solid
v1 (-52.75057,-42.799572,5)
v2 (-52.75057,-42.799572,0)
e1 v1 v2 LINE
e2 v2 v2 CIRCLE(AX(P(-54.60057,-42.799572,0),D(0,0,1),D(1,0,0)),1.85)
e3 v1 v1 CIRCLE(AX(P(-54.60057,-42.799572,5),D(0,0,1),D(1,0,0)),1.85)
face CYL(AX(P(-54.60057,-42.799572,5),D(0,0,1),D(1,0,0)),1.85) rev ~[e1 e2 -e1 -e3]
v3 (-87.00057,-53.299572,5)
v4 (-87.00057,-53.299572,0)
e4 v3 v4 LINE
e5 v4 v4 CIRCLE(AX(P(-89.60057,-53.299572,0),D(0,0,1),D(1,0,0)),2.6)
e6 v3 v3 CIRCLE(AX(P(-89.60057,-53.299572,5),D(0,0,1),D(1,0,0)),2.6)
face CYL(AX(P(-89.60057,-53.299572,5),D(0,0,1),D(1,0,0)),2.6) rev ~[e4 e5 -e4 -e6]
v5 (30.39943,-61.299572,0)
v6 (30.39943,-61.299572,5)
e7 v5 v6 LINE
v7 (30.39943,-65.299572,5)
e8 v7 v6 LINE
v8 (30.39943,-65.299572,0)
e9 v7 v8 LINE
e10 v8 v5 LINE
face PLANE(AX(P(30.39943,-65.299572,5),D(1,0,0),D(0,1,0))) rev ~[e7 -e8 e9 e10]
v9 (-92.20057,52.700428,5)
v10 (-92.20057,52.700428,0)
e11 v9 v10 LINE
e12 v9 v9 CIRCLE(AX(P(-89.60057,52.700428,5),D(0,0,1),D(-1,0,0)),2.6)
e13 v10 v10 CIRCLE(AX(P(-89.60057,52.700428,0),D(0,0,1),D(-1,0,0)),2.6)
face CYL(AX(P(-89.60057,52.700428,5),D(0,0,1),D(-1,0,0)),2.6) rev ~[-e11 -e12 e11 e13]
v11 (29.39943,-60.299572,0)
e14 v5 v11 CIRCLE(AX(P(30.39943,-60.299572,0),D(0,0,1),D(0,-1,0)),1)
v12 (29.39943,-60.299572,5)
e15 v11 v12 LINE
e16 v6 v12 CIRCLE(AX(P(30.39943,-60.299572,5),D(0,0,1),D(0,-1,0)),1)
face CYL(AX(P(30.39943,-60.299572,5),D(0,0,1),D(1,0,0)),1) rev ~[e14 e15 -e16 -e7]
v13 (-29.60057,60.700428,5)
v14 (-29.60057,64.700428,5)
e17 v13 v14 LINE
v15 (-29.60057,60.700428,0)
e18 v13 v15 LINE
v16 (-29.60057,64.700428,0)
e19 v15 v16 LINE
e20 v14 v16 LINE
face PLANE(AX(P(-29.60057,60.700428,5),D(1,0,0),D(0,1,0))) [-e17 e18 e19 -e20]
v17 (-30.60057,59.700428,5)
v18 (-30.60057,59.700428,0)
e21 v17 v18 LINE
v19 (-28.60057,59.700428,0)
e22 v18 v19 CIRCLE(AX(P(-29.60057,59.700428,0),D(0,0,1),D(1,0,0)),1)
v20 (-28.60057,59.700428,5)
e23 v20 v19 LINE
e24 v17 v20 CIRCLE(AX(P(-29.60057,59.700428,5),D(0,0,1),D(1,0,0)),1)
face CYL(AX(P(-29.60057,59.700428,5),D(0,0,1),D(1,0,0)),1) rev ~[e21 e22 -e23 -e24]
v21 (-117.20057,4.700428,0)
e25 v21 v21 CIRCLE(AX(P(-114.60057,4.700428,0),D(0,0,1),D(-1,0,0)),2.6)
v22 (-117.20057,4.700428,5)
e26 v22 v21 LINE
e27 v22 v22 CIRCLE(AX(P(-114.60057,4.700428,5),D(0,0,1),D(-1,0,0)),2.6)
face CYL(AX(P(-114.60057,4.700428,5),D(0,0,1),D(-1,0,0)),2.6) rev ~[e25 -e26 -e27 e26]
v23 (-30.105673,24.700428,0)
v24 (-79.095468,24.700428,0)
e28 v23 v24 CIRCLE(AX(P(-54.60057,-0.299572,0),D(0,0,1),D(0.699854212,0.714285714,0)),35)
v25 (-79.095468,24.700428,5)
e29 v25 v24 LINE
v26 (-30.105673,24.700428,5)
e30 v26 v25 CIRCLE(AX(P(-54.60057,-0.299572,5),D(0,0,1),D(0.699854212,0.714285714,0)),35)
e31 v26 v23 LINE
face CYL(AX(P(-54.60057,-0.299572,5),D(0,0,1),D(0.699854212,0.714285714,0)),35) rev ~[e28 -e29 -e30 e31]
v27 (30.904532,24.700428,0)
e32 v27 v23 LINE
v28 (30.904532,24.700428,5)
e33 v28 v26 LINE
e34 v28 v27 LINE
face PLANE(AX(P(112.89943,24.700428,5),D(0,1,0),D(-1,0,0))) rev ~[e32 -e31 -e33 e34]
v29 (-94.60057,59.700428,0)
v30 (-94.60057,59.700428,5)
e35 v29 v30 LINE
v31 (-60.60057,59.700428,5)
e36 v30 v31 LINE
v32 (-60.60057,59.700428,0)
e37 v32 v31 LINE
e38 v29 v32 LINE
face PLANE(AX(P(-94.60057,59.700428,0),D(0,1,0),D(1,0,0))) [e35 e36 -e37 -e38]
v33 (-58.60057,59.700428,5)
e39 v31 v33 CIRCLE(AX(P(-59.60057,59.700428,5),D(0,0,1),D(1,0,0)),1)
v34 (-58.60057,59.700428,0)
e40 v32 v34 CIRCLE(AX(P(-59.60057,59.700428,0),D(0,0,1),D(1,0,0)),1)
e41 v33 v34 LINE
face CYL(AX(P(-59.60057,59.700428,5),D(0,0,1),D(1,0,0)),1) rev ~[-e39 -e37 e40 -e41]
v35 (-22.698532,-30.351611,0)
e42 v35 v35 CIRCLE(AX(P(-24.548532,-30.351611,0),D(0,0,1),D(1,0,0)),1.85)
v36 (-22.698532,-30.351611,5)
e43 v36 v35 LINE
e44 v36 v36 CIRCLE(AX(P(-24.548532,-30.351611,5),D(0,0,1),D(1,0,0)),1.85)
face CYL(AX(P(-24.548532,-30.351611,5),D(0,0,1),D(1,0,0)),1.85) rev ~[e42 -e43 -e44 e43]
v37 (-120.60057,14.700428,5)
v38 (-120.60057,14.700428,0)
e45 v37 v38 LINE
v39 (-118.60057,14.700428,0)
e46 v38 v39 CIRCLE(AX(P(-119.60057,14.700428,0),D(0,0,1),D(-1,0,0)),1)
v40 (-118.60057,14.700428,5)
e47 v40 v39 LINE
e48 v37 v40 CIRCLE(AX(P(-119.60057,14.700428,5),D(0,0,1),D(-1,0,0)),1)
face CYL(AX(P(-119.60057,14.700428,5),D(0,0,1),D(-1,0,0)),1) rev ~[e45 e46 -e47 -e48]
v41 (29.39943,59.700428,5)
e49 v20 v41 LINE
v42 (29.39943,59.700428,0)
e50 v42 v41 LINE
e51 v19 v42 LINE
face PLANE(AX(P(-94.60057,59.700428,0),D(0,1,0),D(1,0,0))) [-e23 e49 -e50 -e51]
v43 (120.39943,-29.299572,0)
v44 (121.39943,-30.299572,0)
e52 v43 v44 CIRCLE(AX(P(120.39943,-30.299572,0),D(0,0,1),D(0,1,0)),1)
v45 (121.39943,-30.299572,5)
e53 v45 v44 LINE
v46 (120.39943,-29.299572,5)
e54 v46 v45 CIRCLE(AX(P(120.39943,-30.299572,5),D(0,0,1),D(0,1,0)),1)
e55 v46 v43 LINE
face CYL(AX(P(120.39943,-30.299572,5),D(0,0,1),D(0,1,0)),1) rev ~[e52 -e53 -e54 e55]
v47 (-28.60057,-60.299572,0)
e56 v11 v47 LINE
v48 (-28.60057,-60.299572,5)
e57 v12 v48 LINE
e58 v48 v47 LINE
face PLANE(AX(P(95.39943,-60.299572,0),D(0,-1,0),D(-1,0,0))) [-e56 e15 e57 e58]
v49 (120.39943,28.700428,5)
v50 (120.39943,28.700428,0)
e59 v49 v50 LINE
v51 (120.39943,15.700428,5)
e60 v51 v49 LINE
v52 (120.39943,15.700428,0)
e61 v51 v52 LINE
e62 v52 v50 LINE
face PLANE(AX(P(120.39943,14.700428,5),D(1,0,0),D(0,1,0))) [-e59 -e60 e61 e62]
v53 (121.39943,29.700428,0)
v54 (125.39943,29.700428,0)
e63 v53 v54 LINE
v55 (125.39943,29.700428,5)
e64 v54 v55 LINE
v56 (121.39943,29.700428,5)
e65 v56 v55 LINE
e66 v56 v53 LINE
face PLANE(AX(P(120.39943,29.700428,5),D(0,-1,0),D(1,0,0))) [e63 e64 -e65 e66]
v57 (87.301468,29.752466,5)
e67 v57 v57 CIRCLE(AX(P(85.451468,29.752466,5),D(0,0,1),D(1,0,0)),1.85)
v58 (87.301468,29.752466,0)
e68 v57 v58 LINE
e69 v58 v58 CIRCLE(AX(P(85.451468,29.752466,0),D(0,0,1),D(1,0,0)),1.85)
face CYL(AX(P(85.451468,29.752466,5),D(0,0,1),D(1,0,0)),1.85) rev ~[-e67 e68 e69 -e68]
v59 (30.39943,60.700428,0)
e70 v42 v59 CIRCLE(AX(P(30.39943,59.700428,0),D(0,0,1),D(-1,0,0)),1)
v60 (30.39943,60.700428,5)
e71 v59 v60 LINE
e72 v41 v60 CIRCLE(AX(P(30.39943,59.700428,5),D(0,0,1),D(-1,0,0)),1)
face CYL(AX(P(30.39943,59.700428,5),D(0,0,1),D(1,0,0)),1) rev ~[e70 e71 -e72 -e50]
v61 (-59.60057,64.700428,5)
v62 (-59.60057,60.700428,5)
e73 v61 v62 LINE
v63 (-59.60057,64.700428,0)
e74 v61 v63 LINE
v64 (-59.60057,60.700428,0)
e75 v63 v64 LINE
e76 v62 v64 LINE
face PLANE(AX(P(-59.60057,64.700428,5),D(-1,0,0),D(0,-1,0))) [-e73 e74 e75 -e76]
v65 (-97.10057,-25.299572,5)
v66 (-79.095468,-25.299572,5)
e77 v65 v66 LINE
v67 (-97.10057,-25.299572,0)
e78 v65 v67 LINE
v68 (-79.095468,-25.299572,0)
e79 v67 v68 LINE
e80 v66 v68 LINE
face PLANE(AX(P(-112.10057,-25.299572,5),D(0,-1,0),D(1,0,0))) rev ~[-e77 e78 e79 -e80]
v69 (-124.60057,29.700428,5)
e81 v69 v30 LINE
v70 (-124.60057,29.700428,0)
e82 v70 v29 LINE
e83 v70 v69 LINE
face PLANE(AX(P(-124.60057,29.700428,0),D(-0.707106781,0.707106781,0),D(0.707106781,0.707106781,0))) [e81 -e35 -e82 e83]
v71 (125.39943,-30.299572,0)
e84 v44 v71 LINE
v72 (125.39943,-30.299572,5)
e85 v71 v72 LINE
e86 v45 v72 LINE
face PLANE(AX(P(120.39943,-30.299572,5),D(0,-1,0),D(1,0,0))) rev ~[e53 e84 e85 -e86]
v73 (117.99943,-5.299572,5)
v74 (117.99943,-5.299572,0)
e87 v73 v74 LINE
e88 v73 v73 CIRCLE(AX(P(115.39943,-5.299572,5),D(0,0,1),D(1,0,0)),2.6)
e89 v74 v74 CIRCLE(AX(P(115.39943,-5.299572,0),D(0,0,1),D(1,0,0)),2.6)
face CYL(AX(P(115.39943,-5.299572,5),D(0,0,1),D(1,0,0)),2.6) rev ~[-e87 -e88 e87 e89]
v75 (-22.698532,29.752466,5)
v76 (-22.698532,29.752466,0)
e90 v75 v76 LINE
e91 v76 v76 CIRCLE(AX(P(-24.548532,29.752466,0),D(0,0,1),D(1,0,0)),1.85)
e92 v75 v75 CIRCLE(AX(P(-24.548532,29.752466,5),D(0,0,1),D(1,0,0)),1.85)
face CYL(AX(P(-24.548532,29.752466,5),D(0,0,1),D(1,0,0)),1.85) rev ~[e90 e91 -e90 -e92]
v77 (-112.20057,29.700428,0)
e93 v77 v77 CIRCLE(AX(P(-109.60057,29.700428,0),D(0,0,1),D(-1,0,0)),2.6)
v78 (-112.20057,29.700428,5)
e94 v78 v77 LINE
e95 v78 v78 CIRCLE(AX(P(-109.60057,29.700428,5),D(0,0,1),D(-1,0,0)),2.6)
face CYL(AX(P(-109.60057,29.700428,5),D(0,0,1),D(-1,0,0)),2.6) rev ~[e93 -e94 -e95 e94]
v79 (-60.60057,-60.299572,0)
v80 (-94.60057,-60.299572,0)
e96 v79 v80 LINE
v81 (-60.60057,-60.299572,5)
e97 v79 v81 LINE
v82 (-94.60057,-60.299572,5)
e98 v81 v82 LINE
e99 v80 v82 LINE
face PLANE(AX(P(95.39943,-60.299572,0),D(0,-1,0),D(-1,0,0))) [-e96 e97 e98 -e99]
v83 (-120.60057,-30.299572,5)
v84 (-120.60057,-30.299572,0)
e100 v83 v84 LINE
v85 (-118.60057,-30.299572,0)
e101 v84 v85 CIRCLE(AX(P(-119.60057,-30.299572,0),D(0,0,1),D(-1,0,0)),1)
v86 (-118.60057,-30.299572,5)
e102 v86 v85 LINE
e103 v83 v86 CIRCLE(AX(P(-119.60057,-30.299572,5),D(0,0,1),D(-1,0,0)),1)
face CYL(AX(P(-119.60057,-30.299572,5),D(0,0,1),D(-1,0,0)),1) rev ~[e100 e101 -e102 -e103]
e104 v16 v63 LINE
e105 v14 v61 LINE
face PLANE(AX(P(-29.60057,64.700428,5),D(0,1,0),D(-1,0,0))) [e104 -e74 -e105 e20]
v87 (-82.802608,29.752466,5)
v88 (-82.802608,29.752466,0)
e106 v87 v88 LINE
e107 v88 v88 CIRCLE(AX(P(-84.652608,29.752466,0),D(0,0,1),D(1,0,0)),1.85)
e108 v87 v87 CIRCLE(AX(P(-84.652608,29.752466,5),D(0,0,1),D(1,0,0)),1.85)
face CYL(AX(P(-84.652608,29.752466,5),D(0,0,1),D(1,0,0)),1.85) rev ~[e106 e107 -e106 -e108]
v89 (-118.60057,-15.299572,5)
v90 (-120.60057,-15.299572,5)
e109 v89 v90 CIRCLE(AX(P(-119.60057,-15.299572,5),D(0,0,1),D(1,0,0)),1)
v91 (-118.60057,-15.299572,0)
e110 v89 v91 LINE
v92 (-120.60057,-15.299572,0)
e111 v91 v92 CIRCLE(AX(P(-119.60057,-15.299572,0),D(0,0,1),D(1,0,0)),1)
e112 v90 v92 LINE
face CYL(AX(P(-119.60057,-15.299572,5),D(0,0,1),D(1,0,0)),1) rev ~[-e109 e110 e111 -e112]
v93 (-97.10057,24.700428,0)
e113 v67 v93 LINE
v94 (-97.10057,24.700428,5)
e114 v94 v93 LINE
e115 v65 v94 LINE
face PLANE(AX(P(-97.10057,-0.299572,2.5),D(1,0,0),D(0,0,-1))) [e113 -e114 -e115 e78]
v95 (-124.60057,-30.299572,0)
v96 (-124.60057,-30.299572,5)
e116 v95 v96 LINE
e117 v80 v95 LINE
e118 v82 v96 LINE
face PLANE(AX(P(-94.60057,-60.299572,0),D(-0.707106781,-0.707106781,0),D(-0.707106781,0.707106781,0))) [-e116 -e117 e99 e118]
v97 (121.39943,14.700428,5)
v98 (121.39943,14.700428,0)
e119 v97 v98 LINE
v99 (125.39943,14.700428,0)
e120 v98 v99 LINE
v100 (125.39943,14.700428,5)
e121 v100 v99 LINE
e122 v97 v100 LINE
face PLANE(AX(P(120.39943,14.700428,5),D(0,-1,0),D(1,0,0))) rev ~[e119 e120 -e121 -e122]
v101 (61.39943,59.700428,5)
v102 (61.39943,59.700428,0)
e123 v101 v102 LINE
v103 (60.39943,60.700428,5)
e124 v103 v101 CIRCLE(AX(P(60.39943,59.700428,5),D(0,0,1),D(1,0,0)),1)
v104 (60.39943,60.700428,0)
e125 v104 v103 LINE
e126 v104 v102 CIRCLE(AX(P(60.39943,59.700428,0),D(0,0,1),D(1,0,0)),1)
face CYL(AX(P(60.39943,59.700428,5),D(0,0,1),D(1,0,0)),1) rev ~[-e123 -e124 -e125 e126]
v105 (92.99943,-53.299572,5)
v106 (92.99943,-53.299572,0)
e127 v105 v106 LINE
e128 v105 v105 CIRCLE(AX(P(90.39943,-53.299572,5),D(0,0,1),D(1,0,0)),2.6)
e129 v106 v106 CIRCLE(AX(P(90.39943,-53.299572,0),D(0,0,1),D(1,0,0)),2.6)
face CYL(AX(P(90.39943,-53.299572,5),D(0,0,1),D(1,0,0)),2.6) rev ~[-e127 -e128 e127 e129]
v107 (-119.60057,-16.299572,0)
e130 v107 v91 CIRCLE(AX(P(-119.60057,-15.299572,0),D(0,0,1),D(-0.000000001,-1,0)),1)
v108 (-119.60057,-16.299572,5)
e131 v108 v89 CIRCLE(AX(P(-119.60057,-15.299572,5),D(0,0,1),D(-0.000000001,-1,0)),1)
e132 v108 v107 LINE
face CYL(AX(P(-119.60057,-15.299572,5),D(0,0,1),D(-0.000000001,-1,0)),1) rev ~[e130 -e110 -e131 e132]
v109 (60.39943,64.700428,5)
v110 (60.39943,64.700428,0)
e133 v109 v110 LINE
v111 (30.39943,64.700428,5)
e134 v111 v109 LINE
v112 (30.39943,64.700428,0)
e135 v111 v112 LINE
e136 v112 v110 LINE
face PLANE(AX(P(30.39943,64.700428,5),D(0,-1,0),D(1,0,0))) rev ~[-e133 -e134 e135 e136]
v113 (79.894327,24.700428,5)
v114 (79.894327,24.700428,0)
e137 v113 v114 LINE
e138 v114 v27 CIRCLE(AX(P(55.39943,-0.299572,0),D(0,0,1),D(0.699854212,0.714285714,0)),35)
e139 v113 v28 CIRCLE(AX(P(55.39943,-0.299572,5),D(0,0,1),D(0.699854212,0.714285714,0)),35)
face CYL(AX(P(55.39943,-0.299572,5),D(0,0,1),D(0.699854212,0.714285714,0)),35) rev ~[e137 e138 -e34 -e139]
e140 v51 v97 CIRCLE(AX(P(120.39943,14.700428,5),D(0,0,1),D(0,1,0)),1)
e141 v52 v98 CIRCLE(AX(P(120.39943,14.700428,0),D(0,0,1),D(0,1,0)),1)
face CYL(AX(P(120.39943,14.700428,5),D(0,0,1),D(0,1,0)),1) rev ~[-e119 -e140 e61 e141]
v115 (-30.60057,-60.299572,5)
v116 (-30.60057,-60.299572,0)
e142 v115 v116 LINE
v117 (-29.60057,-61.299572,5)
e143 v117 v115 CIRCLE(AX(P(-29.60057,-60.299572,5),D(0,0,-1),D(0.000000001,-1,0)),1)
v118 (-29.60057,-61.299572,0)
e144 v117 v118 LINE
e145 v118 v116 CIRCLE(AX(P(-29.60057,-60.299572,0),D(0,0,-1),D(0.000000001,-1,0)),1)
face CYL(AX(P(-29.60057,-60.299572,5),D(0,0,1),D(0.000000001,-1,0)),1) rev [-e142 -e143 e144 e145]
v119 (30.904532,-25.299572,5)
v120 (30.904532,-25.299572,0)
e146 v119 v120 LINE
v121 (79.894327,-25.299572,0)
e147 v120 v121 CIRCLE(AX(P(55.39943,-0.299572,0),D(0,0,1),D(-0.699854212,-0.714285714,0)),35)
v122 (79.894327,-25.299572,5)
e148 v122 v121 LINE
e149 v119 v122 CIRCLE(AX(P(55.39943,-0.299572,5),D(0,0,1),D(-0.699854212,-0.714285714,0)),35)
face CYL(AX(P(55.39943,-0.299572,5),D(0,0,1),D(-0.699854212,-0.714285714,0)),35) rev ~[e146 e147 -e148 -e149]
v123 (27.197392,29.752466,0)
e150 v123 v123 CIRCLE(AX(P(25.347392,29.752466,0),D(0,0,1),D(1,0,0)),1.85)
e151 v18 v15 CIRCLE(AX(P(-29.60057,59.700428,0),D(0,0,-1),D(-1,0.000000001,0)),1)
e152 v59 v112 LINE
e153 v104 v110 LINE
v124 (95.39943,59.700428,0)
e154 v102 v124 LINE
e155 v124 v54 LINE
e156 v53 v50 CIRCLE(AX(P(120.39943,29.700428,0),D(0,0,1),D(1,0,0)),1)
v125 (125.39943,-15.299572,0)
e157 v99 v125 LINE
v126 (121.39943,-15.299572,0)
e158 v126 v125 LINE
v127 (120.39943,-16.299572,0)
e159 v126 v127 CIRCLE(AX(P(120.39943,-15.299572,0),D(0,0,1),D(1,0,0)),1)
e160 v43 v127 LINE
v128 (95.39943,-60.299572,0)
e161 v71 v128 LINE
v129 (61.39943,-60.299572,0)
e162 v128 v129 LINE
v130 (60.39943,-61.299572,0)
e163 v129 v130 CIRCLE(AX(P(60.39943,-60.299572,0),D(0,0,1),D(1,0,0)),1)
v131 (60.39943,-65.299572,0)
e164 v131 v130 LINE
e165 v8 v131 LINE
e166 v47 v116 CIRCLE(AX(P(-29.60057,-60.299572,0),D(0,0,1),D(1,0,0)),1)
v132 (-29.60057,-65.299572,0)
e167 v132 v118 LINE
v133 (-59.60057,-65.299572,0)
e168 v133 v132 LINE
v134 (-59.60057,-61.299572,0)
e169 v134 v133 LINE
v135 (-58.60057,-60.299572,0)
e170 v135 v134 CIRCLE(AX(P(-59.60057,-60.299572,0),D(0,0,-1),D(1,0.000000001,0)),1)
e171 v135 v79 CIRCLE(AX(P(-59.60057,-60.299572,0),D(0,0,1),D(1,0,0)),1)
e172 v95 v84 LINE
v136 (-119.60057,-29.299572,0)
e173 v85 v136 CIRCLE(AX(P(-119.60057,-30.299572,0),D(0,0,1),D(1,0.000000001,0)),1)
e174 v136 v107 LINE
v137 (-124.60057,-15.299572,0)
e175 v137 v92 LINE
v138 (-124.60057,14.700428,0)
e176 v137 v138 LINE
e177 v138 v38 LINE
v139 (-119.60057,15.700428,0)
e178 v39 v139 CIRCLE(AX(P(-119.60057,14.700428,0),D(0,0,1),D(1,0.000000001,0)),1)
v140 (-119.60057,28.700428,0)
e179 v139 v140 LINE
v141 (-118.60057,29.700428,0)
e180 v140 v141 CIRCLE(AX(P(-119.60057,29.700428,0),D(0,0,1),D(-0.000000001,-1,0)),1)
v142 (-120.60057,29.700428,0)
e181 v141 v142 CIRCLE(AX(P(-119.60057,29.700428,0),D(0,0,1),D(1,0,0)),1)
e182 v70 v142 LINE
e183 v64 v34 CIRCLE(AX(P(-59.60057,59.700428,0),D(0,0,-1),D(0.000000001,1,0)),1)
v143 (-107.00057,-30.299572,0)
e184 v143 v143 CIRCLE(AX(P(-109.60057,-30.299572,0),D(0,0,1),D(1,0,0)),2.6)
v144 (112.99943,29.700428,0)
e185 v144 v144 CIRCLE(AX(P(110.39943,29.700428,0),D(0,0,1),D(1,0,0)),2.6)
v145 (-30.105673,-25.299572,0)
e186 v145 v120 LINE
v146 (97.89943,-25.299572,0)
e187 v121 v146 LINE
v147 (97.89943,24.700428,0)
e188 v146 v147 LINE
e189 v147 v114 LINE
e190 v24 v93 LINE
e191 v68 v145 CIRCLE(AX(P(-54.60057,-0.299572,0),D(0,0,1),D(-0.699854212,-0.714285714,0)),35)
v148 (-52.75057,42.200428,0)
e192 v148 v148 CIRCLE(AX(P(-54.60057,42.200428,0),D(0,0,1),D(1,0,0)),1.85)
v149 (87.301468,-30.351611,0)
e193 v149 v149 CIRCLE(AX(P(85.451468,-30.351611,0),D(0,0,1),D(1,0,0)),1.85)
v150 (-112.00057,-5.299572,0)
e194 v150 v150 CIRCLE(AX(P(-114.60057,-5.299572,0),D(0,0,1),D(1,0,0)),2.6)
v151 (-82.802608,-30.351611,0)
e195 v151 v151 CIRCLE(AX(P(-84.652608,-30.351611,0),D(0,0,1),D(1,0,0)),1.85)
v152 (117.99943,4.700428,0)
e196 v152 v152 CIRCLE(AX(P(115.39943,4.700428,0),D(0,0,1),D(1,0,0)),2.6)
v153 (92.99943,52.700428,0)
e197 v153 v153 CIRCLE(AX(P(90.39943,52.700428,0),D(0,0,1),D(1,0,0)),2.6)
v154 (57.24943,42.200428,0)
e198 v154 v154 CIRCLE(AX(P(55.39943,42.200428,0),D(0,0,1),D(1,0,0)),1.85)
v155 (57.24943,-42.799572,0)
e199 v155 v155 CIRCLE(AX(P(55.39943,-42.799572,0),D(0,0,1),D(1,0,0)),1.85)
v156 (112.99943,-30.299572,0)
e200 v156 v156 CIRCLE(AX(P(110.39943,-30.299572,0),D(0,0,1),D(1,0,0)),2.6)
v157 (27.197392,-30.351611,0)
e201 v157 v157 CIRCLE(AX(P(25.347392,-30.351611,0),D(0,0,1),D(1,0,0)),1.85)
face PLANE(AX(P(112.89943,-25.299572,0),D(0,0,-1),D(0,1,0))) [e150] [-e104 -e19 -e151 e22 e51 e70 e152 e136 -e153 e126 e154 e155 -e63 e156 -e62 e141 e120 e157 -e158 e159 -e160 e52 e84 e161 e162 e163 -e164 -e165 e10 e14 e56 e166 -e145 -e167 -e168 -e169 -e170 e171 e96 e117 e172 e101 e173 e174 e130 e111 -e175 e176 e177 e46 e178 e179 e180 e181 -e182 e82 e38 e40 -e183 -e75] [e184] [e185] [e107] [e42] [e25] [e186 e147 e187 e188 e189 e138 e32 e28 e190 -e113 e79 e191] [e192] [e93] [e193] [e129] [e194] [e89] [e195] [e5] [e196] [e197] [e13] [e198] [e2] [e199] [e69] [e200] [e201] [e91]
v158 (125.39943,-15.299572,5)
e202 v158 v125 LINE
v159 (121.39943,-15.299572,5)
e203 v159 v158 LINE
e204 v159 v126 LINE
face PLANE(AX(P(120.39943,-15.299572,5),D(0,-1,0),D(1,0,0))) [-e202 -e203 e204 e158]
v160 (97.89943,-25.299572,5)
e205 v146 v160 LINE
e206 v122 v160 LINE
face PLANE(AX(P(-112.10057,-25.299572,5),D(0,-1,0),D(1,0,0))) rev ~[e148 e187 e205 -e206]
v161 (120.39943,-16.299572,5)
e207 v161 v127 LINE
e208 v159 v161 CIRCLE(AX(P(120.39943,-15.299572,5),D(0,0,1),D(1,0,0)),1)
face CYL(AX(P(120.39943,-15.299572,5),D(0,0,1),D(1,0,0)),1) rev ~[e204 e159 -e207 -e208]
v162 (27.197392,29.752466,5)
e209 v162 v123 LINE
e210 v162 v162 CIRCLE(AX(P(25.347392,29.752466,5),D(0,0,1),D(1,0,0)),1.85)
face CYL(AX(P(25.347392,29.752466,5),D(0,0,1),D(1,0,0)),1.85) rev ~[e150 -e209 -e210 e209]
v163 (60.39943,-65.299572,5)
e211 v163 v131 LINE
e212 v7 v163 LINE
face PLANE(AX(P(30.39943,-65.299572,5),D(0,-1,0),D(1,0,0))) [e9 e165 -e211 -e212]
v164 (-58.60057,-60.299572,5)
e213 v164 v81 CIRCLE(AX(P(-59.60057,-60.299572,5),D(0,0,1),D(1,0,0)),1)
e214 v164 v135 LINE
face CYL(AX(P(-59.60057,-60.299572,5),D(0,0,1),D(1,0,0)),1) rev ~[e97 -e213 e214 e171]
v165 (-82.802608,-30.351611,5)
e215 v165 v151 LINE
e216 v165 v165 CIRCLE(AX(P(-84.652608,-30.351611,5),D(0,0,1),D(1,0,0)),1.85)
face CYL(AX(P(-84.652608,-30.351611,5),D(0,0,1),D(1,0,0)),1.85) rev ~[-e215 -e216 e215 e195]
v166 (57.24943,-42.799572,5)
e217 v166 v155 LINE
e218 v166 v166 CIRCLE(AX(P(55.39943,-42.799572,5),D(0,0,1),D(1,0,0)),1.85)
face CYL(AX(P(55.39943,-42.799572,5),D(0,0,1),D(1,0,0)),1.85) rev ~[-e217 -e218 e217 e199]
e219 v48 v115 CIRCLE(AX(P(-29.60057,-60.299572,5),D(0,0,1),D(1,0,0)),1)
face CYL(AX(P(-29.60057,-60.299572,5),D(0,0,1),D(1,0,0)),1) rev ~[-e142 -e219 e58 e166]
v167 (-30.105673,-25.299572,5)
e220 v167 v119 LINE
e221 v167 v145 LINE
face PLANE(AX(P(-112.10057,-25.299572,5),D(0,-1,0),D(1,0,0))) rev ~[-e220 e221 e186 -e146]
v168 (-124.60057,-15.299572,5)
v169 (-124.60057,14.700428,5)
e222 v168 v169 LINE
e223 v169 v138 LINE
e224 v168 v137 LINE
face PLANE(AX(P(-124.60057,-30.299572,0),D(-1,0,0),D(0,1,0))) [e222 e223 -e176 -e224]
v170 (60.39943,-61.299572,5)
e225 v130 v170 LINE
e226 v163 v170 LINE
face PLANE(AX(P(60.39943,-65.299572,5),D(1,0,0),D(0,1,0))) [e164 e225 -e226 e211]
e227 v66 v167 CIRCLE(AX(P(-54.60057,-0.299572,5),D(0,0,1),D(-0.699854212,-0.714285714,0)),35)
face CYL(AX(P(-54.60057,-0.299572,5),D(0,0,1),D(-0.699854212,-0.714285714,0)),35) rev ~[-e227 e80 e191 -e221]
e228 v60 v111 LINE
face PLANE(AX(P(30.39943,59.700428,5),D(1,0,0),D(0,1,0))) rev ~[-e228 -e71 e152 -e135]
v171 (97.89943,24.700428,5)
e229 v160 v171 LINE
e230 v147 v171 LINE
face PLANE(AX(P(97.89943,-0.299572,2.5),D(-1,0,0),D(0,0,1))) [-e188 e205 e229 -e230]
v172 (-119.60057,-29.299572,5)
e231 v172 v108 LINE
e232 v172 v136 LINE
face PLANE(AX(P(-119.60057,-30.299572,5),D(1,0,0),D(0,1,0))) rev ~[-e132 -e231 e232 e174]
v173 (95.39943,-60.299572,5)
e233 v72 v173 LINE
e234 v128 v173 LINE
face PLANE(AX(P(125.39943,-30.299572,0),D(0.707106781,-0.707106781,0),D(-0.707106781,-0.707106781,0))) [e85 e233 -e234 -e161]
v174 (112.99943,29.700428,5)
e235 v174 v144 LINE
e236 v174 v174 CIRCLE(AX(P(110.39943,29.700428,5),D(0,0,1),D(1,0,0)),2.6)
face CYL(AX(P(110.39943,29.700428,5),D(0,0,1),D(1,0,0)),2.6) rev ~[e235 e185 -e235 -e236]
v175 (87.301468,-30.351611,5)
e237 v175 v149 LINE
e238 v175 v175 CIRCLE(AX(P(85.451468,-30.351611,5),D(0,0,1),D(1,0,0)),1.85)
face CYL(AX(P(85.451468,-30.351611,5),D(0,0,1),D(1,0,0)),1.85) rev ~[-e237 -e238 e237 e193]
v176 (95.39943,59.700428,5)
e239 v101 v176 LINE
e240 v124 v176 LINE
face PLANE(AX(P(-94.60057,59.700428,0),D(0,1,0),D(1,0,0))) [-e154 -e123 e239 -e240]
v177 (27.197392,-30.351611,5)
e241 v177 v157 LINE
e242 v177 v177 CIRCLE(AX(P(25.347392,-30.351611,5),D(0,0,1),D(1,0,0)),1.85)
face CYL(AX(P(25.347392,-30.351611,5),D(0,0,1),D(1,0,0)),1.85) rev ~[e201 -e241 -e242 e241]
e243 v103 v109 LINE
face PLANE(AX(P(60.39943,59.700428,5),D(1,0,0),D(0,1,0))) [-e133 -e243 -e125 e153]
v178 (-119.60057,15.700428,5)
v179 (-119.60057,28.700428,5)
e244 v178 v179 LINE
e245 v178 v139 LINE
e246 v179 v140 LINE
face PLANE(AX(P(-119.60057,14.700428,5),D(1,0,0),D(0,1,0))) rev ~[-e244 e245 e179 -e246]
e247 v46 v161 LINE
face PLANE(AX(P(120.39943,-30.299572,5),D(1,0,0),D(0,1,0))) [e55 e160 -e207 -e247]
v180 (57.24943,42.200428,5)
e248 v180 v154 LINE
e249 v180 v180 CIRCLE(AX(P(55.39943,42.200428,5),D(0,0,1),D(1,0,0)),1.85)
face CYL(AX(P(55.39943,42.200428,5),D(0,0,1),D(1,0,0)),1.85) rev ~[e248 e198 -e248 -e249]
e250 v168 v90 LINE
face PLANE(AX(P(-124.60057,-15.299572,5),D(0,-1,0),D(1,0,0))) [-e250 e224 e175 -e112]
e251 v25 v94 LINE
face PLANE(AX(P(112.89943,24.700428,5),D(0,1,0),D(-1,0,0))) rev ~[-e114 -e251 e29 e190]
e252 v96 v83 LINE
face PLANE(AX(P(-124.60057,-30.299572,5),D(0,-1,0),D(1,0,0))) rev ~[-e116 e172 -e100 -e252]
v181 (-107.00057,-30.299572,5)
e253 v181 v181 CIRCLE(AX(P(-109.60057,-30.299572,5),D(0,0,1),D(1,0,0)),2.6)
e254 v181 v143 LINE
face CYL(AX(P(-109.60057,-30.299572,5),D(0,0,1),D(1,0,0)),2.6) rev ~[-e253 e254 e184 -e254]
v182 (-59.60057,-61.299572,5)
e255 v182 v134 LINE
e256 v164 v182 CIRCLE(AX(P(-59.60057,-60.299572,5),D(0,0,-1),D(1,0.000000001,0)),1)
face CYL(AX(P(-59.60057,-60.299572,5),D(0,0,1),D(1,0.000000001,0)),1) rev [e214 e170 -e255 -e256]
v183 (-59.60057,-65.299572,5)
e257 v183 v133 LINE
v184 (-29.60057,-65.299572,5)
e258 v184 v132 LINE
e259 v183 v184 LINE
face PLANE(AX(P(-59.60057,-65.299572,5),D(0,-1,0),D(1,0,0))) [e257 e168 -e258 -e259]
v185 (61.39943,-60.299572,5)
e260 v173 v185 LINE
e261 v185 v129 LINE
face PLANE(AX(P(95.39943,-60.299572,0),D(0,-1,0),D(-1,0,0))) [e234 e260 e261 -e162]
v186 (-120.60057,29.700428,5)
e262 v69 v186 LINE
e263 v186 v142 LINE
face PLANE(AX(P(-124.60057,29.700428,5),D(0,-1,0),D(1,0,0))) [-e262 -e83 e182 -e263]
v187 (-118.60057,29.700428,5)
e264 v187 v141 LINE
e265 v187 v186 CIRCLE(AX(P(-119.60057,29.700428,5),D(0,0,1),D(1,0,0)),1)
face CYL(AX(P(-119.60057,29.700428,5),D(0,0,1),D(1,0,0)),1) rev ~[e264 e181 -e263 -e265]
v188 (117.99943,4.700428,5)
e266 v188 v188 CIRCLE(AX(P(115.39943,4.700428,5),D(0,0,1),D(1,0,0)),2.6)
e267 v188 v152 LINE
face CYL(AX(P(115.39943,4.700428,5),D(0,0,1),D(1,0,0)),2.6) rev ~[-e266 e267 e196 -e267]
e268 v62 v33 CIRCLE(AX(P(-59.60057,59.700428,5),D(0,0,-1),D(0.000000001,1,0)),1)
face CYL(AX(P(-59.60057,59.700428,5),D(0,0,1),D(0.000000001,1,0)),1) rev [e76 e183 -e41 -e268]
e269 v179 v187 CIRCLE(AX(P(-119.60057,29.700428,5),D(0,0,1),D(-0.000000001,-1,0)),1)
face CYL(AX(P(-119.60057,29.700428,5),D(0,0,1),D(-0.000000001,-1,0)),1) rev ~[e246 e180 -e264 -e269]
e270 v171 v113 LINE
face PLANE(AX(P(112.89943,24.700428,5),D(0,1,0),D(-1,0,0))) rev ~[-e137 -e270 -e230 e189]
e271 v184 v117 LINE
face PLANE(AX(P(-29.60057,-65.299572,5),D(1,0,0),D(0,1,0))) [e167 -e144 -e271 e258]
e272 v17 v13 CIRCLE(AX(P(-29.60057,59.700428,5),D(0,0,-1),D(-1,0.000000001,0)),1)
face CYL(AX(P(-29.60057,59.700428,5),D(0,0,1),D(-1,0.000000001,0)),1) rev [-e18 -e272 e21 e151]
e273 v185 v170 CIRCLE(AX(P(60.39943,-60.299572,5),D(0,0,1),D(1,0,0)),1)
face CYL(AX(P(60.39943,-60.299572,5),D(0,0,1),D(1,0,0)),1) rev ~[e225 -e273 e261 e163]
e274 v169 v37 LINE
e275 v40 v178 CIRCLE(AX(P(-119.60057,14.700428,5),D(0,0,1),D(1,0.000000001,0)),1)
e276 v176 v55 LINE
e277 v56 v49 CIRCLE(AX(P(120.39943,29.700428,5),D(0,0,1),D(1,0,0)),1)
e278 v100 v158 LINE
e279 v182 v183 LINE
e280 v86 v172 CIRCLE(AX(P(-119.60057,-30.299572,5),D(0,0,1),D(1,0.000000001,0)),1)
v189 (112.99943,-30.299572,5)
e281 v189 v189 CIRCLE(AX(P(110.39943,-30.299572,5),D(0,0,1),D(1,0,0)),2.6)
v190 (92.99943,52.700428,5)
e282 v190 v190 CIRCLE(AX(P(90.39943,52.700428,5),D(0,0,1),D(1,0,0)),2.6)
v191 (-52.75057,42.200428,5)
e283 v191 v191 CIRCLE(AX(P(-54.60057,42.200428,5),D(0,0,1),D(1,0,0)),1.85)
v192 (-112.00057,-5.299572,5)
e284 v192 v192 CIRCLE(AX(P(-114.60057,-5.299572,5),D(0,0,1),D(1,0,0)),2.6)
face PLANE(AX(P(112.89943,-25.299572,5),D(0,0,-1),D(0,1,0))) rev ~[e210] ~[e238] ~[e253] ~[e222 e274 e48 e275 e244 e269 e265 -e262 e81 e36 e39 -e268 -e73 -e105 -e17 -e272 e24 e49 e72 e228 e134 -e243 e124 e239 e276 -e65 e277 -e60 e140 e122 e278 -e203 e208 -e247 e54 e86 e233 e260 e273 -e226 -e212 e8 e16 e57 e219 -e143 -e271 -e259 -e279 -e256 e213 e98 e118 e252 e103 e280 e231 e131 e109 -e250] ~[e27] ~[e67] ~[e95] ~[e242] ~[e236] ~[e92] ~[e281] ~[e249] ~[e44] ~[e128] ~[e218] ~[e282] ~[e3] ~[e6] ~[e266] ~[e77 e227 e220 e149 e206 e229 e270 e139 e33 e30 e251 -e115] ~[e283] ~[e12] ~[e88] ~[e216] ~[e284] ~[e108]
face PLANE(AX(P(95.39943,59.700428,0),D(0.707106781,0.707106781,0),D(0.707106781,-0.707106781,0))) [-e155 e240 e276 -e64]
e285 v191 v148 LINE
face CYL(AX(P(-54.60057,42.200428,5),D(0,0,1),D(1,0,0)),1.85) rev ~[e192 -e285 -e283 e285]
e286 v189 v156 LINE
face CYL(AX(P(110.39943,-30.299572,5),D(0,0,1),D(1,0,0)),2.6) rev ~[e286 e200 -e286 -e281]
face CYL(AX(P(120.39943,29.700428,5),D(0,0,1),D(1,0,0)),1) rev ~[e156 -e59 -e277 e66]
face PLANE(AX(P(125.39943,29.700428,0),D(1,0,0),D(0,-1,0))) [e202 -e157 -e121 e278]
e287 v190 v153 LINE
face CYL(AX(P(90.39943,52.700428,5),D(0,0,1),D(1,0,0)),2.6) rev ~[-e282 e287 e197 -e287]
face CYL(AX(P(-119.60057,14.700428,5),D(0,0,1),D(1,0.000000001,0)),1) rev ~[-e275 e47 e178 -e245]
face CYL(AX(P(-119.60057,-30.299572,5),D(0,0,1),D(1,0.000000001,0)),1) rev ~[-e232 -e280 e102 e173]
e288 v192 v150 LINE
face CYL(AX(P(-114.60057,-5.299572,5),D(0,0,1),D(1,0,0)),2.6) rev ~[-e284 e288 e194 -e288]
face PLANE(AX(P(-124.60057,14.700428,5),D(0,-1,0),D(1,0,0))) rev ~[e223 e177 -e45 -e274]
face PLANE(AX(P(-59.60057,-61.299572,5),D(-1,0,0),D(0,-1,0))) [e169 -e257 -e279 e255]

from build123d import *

# Parameters (mm, degrees)
EXTRUDE_1_DEPTH     = 5
SKETCH_2_W          = 5
SKETCH_2_H          = 15
CUT_EXTRUDE_1_DEPTH = 5
SKETCH_3_R          = 1.85
CUT_EXTRUDE_3_DEPTH = 5
CUT_EXTRUDE_4_DEPTH = 5
CUT_EXTRUDE_5_DEPTH = 5
SKETCH_6_W          = 5
SKETCH_6_H          = 50
EXTRUDE_2_DEPTH     = 15
SKETCH_7_W          = 5
SKETCH_7_H          = 50
EXTRUDE_3_DEPTH     = 15
SKETCH_8_W          = 30
SKETCH_8_H          = 5
EXTRUDE_4_DEPTH     = 5
SKETCH_9_R          = 1
CUT_EXTRUDE_6_DEPTH = 5
SKETCH_10_R         = 2.6
CUT_EXTRUDE_7_DEPTH = 142.471025812


with BuildPart() as part:
    # 草图1 → 凸台-拉伸1 (new body)
    with BuildSketch(Plane.XY):
        Polygon((95.399429803, 59.700427648), (125.399429803, 29.700427648), (125.399429803, -30.299572352), (95.399429803, -60.299572352), (-94.600570197, -60.299572352), (-124.600570197, -30.299572352), (-124.600570197, 29.700427648), (-94.600570197, 59.700427648), align=None)
    extrude(amount=EXTRUDE_1_DEPTH)

    # 草图2 → 切除-拉伸1 (cut)
    with BuildSketch(Plane.XY.offset(5)):
        with Locations((-122.100570197, 22.200427648)):
            Rectangle(SKETCH_2_W, SKETCH_2_H)
        with Locations((-122.100570197, -22.799572352)):
            Rectangle(SKETCH_2_W, SKETCH_2_H)
        with Locations((122.899429803, -22.799572352)):
            Rectangle(SKETCH_2_W, SKETCH_2_H)
        with Locations((122.899429803, 22.200427648)):
            Rectangle(SKETCH_2_W, SKETCH_2_H)
    extrude(amount=-CUT_EXTRUDE_1_DEPTH, mode=Mode.SUBTRACT)

    # 草图3 → 切除-拉伸3 (cut)
    # profile 1 of 16: a face of its own
    with BuildSketch(Plane.XY.offset(5)):
        Polygon((112.899429803, 24.700427648), (82.899429803, 24.700427648), (-112.100570197, 24.700427648), (-112.100570197, -25.299572352), (82.899429803, -25.299572352), (112.899429803, -25.299572352), align=None)
        with Locations((-97.100570197, -0.299572352)):
            Circle(SKETCH_3_R, mode=Mode.SUBTRACT)
        with Locations((-12.100570197, -0.299572352)):
            Circle(SKETCH_3_R, mode=Mode.SUBTRACT)
        with Locations((12.899429803, -0.299572352)):
            Circle(SKETCH_3_R, mode=Mode.SUBTRACT)
        with Locations((97.899429803, -0.299572352)):
            Circle(SKETCH_3_R, mode=Mode.SUBTRACT)
    # profile 2 of 16: a face of its own
    with BuildSketch(Plane.XY.offset(5)):
        with Locations((-84.652608397, -30.351610553)):
            Circle(SKETCH_3_R)
    # profile 3 of 16: a face of its own
    with BuildSketch(Plane.XY.offset(5)):
        with Locations((-54.600570197, -42.799572352)):
            Circle(SKETCH_3_R)
    # profile 4 of 16: a face of its own
    with BuildSketch(Plane.XY.offset(5)):
        with Locations((-24.548531996, -30.351610553)):
            Circle(SKETCH_3_R)
    # profile 5 of 16: a face of its own
    with BuildSketch(Plane.XY.offset(5)):
        with Locations((-12.100570197, -0.299572352)):
            Circle(SKETCH_3_R)
    # profile 6 of 16: a face of its own
    with BuildSketch(Plane.XY.offset(5)):
        with Locations((-24.548531996, 29.752465848)):
            Circle(SKETCH_3_R)
    # profile 7 of 16: a face of its own
    with BuildSketch(Plane.XY.offset(5)):
        with Locations((25.347391603, -30.351610553)):
            Circle(SKETCH_3_R)
    # profile 8 of 16: a face of its own
    with BuildSketch(Plane.XY.offset(5)):
        with Locations((55.399429803, -42.799572352)):
            Circle(SKETCH_3_R)
    # profile 9 of 16: a face of its own
    with BuildSketch(Plane.XY.offset(5)):
        with Locations((85.451468004, -30.351610553)):
            Circle(SKETCH_3_R)
    # profile 10 of 16: a face of its own
    with BuildSketch(Plane.XY.offset(5)):
        with Locations((85.451468004, 29.752465848)):
            Circle(SKETCH_3_R)
    # profile 11 of 16: a face of its own
    with BuildSketch(Plane.XY.offset(5)):
        with Locations((55.399429803, 42.200427648)):
            Circle(SKETCH_3_R)
    # profile 12 of 16: a face of its own
    with BuildSketch(Plane.XY.offset(5)):
        with Locations((25.347391603, 29.752465848)):
            Circle(SKETCH_3_R)
    # profile 13 of 16: a face of its own
    with BuildSketch(Plane.XY.offset(5)):
        with Locations((12.899429803, -0.299572352)):
            Circle(SKETCH_3_R)
    # profile 14 of 16: a face of its own
    with BuildSketch(Plane.XY.offset(5)):
        with Locations((97.899429803, -0.299572352)):
            Circle(SKETCH_3_R)
    # profile 15 of 16: a face of its own
    with BuildSketch(Plane.XY.offset(5)):
        with Locations((-54.600570197, 42.200427648)):
            Circle(SKETCH_3_R)
    # profile 16 of 16: a face of its own
    with BuildSketch(Plane.XY.offset(5)):
        with Locations((-84.652608397, 29.752465848)):
            Circle(SKETCH_3_R)
    extrude(amount=-CUT_EXTRUDE_3_DEPTH, mode=Mode.SUBTRACT)


with BuildPart() as cut_extrude_3_kept_piece:
    # of the separate pieces the step leaves, the one the design keeps (cut_extrude_3_pieces_kept)
    add(part.part.solids().sort_by_distance((95.399429803, 59.700427648, 0))[0])

    # 草图4 → 切除-拉伸4 (cut)
    with BuildSketch(Plane.XY.offset(5)):
        with BuildLine():
            Line((-79.095467625, 24.700427648), (-30.105672769, 24.700427648))
            ThreePointArc((-30.105672769, 24.700427648), (-54.600570197, 34.700427648), (-79.095467625, 24.700427648))
        make_face()
        with BuildLine():
            ThreePointArc((-79.095467625, -25.299572352), (-54.600570197, -35.299572352), (-30.105672769, -25.299572352))
            Line((-30.105672769, -25.299572352), (-79.095467625, -25.299572352))
        make_face()
        with BuildLine():
            ThreePointArc((30.904532375, -25.299572352), (55.399429803, -35.299572352), (79.894327231, -25.299572352))
            Line((79.894327231, -25.299572352), (30.904532375, -25.299572352))
        make_face()
        with BuildLine():
            ThreePointArc((79.894327231, 24.700427648), (55.399429803, 34.700427648), (30.904532375, 24.700427648))
            Line((30.904532375, 24.700427648), (79.894327231, 24.700427648))
        make_face()
    extrude(amount=-CUT_EXTRUDE_4_DEPTH, mode=Mode.SUBTRACT)

    # 草图5 → 切除-拉伸5 (cut)
    with BuildSketch(Plane.XY.offset(5)):
        with BuildLine():
            ThreePointArc((-118.600570197, 29.700427648), (-119.600570197, 30.700427648), (-120.600570197, 29.700427648))
            Line((-120.600570197, 29.700427648), (-119.600570197, 29.700427648))
            Line((-119.600570197, 29.700427648), (-119.600570197, 28.700427648))
            ThreePointArc((-119.600570197, 28.700427648), (-118.893463416, 28.993320866), (-118.600570197, 29.700427648))
        make_face()
        with BuildLine():
            Line((-119.600570197, 29.700427648), (-120.600570197, 29.700427648))
            ThreePointArc((-120.600570197, 29.700427648), (-120.307676978, 28.993320866), (-119.600570197, 28.700427648))
            Line((-119.600570197, 28.700427648), (-119.600570197, 29.700427648))
        make_face()
        with BuildLine():
            ThreePointArc((-118.600570197, 14.700427648), (-118.893463416, 15.407534429), (-119.600570197, 15.700427648))
            Line((-119.600570197, 15.700427648), (-119.600570197, 14.700427648))
            Line((-119.600570197, 14.700427648), (-120.600570197, 14.700427648))
            ThreePointArc((-120.600570197, 14.700427648), (-119.600570197, 13.700427648), (-118.600570197, 14.700427648))
        make_face()
        with BuildLine():
            Line((-119.600570197, 14.700427648), (-119.600570197, 15.700427648))
            ThreePointArc((-119.600570197, 15.700427648), (-120.307676978, 15.407534429), (-120.600570197, 14.700427648))
            Line((-120.600570197, 14.700427648), (-119.600570197, 14.700427648))
        make_face()
        with BuildLine():
            ThreePointArc((-120.600570197, -15.299572352), (-120.307676978, -16.006679134), (-119.600570197, -16.299572352))
            Line((-119.600570197, -16.299572352), (-119.600570197, -15.299572352))
            Line((-119.600570197, -15.299572352), (-120.600570197, -15.299572352))
        make_face()
        with BuildLine():
            Line((-119.600570197, -15.299572352), (-119.600570197, -16.299572352))
            ThreePointArc((-119.600570197, -16.299572352), (-118.893463416, -16.006679134), (-118.600570197, -15.299572352))
            ThreePointArc((-118.600570197, -15.299572352), (-119.600570197, -14.299572352), (-120.600570197, -15.299572352))
            Line((-120.600570197, -15.299572352), (-119.600570197, -15.299572352))
        make_face()
        with BuildLine():
            ThreePointArc((-119.600570197, -29.299572352), (-120.307676978, -29.592465571), (-120.600570197, -30.299572352))
            Line((-120.600570197, -30.299572352), (-119.600570197, -30.299572352))
            Line((-119.600570197, -30.299572352), (-119.600570197, -29.299572352))
        make_face()
        with BuildLine():
            Line((-119.600570197, -30.299572352), (-120.600570197, -30.299572352))
            ThreePointArc((-120.600570197, -30.299572352), (-119.600570197, -31.299572352), (-118.600570197, -30.299572352))
            ThreePointArc((-118.600570197, -30.299572352), (-118.893463416, -29.592465571), (-119.600570197, -29.299572352))
            Line((-119.600570197, -29.299572352), (-119.600570197, -30.299572352))
        make_face()
        with BuildLine():
            ThreePointArc((120.399429803, 28.700427648), (121.106536584, 28.993320866), (121.399429803, 29.700427648))
            Line((121.399429803, 29.700427648), (120.399429803, 29.700427648))
            Line((120.399429803, 29.700427648), (120.399429803, 28.700427648))
        make_face()
        with BuildLine():
            Line((120.399429803, 29.700427648), (121.399429803, 29.700427648))
            ThreePointArc((121.399429803, 29.700427648), (119.692323022, 30.407534429), (120.399429803, 28.700427648))
            Line((120.399429803, 28.700427648), (120.399429803, 29.700427648))
        make_face()
        with BuildLine():
            ThreePointArc((121.399429803, 14.700427648), (121.106536584, 15.407534429), (120.399429803, 15.700427648))
            Line((120.399429803, 15.700427648), (120.399429803, 14.700427648))
            Line((120.399429803, 14.700427648), (121.399429803, 14.700427648))
        make_face()
        with BuildLine():
            Line((120.399429803, 14.700427648), (120.399429803, 15.700427648))
            ThreePointArc((120.399429803, 15.700427648), (119.692323022, 13.993320866), (121.399429803, 14.700427648))
            Line((121.399429803, 14.700427648), (120.399429803, 14.700427648))
        make_face()
        with BuildLine():
            ThreePointArc((121.399429803, -15.299572352), (119.692323022, -14.592465571), (120.399429803, -16.299572352))
            Line((120.399429803, -16.299572352), (120.399429803, -15.299572352))
            Line((120.399429803, -15.299572352), (121.399429803, -15.299572352))
        make_face()
        with BuildLine():
            Line((120.399429803, -15.299572352), (120.399429803, -16.299572352))
            ThreePointArc((120.399429803, -16.299572352), (121.106536584, -16.006679134), (121.399429803, -15.299572352))
            Line((121.399429803, -15.299572352), (120.399429803, -15.299572352))
        make_face()
        with BuildLine():
            ThreePointArc((120.399429803, -29.299572352), (119.692323022, -31.006679134), (121.399429803, -30.299572352))
            Line((121.399429803, -30.299572352), (120.399429803, -30.299572352))
            Line((120.399429803, -30.299572352), (120.399429803, -29.299572352))
        make_face()
        with BuildLine():
            Line((120.399429803, -30.299572352), (121.399429803, -30.299572352))
            ThreePointArc((121.399429803, -30.299572352), (121.106536584, -29.592465571), (120.399429803, -29.299572352))
            Line((120.399429803, -29.299572352), (120.399429803, -30.299572352))
        make_face()
    extrude(amount=-CUT_EXTRUDE_5_DEPTH, mode=Mode.SUBTRACT)

    # 草图6 → 凸台-拉伸2 (add)
    with BuildSketch(Plane(origin=(-112.100570197, 0, 0), x_dir=(0, 0, -1), z_dir=(1, 0, 0))):
        with Locations((-2.5, -0.299572352)):
            Rectangle(SKETCH_6_W, SKETCH_6_H)
    extrude(amount=EXTRUDE_2_DEPTH)

    # 草图7 → 凸台-拉伸3 (add)
    with BuildSketch(Plane.ZY.offset(-112.899429803)):
        with Locations((2.5, -0.299572352)):
            Rectangle(SKETCH_7_W, SKETCH_7_H)
    extrude(amount=EXTRUDE_3_DEPTH)

    # 草图8 → 凸台-拉伸4 (add)
    with BuildSketch(Plane.XY.offset(5)):
        with BuildLine():
            ThreePointArc((-30.600570197, 59.700427648), (-30.307676978, 60.407534429), (-29.600570197, 60.700427648))
            Line((-29.600570197, 60.700427648), (-29.600570197, 64.700427648))
            Line((-29.600570197, 64.700427648), (-59.600570197, 64.700427648))
            Line((-59.600570197, 64.700427648), (-59.600570197, 60.700427648))
            ThreePointArc((-59.600570197, 60.700427648), (-58.893463416, 60.407534429), (-58.600570197, 59.700427648))
            Line((-58.600570197, 59.700427648), (-30.600570197, 59.700427648))
        make_face()
        with BuildLine():
            ThreePointArc((-29.600570197, -61.299572352), (-30.307676978, -61.006679134), (-30.600570197, -60.299572352))
            Line((-30.600570197, -60.299572352), (-58.600570197, -60.299572352))
            ThreePointArc((-58.600570197, -60.299572352), (-58.893463416, -61.006679134), (-59.600570197, -61.299572352))
            Line((-59.600570197, -61.299572352), (-59.600570197, -65.299572352))
            Line((-59.600570197, -65.299572352), (-29.600570197, -65.299572352))
            Line((-29.600570197, -65.299572352), (-29.600570197, -61.299572352))
        make_face()
        with Locations((45.399429803, -62.799572352)):
            Rectangle(SKETCH_8_W, SKETCH_8_H)
        with Locations((45.399429803, 62.200427648)):
            Rectangle(SKETCH_8_W, SKETCH_8_H)
    extrude(amount=-EXTRUDE_4_DEPTH)

    # 草图9 → 切除-拉伸6 (cut)
    with BuildSketch(Plane.XY.offset(5)):
        with Locations((30.399429803, 59.700427648)):
            Circle(SKETCH_9_R)
        with Locations((60.399429803, -60.299572352)):
            Circle(SKETCH_9_R)
        with Locations((30.399429803, -60.299572352)):
            Circle(SKETCH_9_R)
        with Locations((-59.600570197, -60.299572352)):
            Circle(SKETCH_9_R)
        with Locations((-29.600570197, -60.299572352)):
            Circle(SKETCH_9_R)
        with Locations((-29.600570197, 59.700427648)):
            Circle(SKETCH_9_R)
        with Locations((-59.600570197, 59.700427648)):
            Circle(SKETCH_9_R)
        with Locations((60.399429803, 59.700427648)):
            Circle(SKETCH_9_R)
    extrude(amount=-CUT_EXTRUDE_6_DEPTH, mode=Mode.SUBTRACT)

    # 草图10 → 切除-拉伸7 (cut, through all)
    with BuildSketch(Plane.XY.offset(5)):
        with Locations((-114.600570197, -5.299572352)):
            Circle(SKETCH_10_R)
        with Locations((-109.600570197, -30.299572352)):
            Circle(SKETCH_10_R)
        with Locations((-89.600570197, -53.299572352)):
            Circle(SKETCH_10_R)
        with Locations((115.399429803, -5.299572352)):
            Circle(SKETCH_10_R)
        with Locations((110.399429803, -30.299572352)):
            Circle(SKETCH_10_R)
        with Locations((90.399429803, -53.299572352)):
            Circle(SKETCH_10_R)
        with Locations(Location((-114.600570197, 4.700427648, 0), (0, 0, 180))):
            Circle(SKETCH_10_R)
        with Locations(Location((-109.600570197, 29.700427648, 0), (0, 0, 180))):
            Circle(SKETCH_10_R)
        with Locations(Location((-89.600570197, 52.700427648, 0), (0, 0, 180))):
            Circle(SKETCH_10_R)
        with Locations((90.399429803, 52.700427648)):
            Circle(SKETCH_10_R)
        with Locations((110.399429803, 29.700427648)):
            Circle(SKETCH_10_R)
        with Locations((115.399429803, 4.700427648)):
            Circle(SKETCH_10_R)
    extrude(amount=-CUT_EXTRUDE_7_DEPTH, mode=Mode.SUBTRACT)


solid = cut_extrude_3_kept_piece.part
